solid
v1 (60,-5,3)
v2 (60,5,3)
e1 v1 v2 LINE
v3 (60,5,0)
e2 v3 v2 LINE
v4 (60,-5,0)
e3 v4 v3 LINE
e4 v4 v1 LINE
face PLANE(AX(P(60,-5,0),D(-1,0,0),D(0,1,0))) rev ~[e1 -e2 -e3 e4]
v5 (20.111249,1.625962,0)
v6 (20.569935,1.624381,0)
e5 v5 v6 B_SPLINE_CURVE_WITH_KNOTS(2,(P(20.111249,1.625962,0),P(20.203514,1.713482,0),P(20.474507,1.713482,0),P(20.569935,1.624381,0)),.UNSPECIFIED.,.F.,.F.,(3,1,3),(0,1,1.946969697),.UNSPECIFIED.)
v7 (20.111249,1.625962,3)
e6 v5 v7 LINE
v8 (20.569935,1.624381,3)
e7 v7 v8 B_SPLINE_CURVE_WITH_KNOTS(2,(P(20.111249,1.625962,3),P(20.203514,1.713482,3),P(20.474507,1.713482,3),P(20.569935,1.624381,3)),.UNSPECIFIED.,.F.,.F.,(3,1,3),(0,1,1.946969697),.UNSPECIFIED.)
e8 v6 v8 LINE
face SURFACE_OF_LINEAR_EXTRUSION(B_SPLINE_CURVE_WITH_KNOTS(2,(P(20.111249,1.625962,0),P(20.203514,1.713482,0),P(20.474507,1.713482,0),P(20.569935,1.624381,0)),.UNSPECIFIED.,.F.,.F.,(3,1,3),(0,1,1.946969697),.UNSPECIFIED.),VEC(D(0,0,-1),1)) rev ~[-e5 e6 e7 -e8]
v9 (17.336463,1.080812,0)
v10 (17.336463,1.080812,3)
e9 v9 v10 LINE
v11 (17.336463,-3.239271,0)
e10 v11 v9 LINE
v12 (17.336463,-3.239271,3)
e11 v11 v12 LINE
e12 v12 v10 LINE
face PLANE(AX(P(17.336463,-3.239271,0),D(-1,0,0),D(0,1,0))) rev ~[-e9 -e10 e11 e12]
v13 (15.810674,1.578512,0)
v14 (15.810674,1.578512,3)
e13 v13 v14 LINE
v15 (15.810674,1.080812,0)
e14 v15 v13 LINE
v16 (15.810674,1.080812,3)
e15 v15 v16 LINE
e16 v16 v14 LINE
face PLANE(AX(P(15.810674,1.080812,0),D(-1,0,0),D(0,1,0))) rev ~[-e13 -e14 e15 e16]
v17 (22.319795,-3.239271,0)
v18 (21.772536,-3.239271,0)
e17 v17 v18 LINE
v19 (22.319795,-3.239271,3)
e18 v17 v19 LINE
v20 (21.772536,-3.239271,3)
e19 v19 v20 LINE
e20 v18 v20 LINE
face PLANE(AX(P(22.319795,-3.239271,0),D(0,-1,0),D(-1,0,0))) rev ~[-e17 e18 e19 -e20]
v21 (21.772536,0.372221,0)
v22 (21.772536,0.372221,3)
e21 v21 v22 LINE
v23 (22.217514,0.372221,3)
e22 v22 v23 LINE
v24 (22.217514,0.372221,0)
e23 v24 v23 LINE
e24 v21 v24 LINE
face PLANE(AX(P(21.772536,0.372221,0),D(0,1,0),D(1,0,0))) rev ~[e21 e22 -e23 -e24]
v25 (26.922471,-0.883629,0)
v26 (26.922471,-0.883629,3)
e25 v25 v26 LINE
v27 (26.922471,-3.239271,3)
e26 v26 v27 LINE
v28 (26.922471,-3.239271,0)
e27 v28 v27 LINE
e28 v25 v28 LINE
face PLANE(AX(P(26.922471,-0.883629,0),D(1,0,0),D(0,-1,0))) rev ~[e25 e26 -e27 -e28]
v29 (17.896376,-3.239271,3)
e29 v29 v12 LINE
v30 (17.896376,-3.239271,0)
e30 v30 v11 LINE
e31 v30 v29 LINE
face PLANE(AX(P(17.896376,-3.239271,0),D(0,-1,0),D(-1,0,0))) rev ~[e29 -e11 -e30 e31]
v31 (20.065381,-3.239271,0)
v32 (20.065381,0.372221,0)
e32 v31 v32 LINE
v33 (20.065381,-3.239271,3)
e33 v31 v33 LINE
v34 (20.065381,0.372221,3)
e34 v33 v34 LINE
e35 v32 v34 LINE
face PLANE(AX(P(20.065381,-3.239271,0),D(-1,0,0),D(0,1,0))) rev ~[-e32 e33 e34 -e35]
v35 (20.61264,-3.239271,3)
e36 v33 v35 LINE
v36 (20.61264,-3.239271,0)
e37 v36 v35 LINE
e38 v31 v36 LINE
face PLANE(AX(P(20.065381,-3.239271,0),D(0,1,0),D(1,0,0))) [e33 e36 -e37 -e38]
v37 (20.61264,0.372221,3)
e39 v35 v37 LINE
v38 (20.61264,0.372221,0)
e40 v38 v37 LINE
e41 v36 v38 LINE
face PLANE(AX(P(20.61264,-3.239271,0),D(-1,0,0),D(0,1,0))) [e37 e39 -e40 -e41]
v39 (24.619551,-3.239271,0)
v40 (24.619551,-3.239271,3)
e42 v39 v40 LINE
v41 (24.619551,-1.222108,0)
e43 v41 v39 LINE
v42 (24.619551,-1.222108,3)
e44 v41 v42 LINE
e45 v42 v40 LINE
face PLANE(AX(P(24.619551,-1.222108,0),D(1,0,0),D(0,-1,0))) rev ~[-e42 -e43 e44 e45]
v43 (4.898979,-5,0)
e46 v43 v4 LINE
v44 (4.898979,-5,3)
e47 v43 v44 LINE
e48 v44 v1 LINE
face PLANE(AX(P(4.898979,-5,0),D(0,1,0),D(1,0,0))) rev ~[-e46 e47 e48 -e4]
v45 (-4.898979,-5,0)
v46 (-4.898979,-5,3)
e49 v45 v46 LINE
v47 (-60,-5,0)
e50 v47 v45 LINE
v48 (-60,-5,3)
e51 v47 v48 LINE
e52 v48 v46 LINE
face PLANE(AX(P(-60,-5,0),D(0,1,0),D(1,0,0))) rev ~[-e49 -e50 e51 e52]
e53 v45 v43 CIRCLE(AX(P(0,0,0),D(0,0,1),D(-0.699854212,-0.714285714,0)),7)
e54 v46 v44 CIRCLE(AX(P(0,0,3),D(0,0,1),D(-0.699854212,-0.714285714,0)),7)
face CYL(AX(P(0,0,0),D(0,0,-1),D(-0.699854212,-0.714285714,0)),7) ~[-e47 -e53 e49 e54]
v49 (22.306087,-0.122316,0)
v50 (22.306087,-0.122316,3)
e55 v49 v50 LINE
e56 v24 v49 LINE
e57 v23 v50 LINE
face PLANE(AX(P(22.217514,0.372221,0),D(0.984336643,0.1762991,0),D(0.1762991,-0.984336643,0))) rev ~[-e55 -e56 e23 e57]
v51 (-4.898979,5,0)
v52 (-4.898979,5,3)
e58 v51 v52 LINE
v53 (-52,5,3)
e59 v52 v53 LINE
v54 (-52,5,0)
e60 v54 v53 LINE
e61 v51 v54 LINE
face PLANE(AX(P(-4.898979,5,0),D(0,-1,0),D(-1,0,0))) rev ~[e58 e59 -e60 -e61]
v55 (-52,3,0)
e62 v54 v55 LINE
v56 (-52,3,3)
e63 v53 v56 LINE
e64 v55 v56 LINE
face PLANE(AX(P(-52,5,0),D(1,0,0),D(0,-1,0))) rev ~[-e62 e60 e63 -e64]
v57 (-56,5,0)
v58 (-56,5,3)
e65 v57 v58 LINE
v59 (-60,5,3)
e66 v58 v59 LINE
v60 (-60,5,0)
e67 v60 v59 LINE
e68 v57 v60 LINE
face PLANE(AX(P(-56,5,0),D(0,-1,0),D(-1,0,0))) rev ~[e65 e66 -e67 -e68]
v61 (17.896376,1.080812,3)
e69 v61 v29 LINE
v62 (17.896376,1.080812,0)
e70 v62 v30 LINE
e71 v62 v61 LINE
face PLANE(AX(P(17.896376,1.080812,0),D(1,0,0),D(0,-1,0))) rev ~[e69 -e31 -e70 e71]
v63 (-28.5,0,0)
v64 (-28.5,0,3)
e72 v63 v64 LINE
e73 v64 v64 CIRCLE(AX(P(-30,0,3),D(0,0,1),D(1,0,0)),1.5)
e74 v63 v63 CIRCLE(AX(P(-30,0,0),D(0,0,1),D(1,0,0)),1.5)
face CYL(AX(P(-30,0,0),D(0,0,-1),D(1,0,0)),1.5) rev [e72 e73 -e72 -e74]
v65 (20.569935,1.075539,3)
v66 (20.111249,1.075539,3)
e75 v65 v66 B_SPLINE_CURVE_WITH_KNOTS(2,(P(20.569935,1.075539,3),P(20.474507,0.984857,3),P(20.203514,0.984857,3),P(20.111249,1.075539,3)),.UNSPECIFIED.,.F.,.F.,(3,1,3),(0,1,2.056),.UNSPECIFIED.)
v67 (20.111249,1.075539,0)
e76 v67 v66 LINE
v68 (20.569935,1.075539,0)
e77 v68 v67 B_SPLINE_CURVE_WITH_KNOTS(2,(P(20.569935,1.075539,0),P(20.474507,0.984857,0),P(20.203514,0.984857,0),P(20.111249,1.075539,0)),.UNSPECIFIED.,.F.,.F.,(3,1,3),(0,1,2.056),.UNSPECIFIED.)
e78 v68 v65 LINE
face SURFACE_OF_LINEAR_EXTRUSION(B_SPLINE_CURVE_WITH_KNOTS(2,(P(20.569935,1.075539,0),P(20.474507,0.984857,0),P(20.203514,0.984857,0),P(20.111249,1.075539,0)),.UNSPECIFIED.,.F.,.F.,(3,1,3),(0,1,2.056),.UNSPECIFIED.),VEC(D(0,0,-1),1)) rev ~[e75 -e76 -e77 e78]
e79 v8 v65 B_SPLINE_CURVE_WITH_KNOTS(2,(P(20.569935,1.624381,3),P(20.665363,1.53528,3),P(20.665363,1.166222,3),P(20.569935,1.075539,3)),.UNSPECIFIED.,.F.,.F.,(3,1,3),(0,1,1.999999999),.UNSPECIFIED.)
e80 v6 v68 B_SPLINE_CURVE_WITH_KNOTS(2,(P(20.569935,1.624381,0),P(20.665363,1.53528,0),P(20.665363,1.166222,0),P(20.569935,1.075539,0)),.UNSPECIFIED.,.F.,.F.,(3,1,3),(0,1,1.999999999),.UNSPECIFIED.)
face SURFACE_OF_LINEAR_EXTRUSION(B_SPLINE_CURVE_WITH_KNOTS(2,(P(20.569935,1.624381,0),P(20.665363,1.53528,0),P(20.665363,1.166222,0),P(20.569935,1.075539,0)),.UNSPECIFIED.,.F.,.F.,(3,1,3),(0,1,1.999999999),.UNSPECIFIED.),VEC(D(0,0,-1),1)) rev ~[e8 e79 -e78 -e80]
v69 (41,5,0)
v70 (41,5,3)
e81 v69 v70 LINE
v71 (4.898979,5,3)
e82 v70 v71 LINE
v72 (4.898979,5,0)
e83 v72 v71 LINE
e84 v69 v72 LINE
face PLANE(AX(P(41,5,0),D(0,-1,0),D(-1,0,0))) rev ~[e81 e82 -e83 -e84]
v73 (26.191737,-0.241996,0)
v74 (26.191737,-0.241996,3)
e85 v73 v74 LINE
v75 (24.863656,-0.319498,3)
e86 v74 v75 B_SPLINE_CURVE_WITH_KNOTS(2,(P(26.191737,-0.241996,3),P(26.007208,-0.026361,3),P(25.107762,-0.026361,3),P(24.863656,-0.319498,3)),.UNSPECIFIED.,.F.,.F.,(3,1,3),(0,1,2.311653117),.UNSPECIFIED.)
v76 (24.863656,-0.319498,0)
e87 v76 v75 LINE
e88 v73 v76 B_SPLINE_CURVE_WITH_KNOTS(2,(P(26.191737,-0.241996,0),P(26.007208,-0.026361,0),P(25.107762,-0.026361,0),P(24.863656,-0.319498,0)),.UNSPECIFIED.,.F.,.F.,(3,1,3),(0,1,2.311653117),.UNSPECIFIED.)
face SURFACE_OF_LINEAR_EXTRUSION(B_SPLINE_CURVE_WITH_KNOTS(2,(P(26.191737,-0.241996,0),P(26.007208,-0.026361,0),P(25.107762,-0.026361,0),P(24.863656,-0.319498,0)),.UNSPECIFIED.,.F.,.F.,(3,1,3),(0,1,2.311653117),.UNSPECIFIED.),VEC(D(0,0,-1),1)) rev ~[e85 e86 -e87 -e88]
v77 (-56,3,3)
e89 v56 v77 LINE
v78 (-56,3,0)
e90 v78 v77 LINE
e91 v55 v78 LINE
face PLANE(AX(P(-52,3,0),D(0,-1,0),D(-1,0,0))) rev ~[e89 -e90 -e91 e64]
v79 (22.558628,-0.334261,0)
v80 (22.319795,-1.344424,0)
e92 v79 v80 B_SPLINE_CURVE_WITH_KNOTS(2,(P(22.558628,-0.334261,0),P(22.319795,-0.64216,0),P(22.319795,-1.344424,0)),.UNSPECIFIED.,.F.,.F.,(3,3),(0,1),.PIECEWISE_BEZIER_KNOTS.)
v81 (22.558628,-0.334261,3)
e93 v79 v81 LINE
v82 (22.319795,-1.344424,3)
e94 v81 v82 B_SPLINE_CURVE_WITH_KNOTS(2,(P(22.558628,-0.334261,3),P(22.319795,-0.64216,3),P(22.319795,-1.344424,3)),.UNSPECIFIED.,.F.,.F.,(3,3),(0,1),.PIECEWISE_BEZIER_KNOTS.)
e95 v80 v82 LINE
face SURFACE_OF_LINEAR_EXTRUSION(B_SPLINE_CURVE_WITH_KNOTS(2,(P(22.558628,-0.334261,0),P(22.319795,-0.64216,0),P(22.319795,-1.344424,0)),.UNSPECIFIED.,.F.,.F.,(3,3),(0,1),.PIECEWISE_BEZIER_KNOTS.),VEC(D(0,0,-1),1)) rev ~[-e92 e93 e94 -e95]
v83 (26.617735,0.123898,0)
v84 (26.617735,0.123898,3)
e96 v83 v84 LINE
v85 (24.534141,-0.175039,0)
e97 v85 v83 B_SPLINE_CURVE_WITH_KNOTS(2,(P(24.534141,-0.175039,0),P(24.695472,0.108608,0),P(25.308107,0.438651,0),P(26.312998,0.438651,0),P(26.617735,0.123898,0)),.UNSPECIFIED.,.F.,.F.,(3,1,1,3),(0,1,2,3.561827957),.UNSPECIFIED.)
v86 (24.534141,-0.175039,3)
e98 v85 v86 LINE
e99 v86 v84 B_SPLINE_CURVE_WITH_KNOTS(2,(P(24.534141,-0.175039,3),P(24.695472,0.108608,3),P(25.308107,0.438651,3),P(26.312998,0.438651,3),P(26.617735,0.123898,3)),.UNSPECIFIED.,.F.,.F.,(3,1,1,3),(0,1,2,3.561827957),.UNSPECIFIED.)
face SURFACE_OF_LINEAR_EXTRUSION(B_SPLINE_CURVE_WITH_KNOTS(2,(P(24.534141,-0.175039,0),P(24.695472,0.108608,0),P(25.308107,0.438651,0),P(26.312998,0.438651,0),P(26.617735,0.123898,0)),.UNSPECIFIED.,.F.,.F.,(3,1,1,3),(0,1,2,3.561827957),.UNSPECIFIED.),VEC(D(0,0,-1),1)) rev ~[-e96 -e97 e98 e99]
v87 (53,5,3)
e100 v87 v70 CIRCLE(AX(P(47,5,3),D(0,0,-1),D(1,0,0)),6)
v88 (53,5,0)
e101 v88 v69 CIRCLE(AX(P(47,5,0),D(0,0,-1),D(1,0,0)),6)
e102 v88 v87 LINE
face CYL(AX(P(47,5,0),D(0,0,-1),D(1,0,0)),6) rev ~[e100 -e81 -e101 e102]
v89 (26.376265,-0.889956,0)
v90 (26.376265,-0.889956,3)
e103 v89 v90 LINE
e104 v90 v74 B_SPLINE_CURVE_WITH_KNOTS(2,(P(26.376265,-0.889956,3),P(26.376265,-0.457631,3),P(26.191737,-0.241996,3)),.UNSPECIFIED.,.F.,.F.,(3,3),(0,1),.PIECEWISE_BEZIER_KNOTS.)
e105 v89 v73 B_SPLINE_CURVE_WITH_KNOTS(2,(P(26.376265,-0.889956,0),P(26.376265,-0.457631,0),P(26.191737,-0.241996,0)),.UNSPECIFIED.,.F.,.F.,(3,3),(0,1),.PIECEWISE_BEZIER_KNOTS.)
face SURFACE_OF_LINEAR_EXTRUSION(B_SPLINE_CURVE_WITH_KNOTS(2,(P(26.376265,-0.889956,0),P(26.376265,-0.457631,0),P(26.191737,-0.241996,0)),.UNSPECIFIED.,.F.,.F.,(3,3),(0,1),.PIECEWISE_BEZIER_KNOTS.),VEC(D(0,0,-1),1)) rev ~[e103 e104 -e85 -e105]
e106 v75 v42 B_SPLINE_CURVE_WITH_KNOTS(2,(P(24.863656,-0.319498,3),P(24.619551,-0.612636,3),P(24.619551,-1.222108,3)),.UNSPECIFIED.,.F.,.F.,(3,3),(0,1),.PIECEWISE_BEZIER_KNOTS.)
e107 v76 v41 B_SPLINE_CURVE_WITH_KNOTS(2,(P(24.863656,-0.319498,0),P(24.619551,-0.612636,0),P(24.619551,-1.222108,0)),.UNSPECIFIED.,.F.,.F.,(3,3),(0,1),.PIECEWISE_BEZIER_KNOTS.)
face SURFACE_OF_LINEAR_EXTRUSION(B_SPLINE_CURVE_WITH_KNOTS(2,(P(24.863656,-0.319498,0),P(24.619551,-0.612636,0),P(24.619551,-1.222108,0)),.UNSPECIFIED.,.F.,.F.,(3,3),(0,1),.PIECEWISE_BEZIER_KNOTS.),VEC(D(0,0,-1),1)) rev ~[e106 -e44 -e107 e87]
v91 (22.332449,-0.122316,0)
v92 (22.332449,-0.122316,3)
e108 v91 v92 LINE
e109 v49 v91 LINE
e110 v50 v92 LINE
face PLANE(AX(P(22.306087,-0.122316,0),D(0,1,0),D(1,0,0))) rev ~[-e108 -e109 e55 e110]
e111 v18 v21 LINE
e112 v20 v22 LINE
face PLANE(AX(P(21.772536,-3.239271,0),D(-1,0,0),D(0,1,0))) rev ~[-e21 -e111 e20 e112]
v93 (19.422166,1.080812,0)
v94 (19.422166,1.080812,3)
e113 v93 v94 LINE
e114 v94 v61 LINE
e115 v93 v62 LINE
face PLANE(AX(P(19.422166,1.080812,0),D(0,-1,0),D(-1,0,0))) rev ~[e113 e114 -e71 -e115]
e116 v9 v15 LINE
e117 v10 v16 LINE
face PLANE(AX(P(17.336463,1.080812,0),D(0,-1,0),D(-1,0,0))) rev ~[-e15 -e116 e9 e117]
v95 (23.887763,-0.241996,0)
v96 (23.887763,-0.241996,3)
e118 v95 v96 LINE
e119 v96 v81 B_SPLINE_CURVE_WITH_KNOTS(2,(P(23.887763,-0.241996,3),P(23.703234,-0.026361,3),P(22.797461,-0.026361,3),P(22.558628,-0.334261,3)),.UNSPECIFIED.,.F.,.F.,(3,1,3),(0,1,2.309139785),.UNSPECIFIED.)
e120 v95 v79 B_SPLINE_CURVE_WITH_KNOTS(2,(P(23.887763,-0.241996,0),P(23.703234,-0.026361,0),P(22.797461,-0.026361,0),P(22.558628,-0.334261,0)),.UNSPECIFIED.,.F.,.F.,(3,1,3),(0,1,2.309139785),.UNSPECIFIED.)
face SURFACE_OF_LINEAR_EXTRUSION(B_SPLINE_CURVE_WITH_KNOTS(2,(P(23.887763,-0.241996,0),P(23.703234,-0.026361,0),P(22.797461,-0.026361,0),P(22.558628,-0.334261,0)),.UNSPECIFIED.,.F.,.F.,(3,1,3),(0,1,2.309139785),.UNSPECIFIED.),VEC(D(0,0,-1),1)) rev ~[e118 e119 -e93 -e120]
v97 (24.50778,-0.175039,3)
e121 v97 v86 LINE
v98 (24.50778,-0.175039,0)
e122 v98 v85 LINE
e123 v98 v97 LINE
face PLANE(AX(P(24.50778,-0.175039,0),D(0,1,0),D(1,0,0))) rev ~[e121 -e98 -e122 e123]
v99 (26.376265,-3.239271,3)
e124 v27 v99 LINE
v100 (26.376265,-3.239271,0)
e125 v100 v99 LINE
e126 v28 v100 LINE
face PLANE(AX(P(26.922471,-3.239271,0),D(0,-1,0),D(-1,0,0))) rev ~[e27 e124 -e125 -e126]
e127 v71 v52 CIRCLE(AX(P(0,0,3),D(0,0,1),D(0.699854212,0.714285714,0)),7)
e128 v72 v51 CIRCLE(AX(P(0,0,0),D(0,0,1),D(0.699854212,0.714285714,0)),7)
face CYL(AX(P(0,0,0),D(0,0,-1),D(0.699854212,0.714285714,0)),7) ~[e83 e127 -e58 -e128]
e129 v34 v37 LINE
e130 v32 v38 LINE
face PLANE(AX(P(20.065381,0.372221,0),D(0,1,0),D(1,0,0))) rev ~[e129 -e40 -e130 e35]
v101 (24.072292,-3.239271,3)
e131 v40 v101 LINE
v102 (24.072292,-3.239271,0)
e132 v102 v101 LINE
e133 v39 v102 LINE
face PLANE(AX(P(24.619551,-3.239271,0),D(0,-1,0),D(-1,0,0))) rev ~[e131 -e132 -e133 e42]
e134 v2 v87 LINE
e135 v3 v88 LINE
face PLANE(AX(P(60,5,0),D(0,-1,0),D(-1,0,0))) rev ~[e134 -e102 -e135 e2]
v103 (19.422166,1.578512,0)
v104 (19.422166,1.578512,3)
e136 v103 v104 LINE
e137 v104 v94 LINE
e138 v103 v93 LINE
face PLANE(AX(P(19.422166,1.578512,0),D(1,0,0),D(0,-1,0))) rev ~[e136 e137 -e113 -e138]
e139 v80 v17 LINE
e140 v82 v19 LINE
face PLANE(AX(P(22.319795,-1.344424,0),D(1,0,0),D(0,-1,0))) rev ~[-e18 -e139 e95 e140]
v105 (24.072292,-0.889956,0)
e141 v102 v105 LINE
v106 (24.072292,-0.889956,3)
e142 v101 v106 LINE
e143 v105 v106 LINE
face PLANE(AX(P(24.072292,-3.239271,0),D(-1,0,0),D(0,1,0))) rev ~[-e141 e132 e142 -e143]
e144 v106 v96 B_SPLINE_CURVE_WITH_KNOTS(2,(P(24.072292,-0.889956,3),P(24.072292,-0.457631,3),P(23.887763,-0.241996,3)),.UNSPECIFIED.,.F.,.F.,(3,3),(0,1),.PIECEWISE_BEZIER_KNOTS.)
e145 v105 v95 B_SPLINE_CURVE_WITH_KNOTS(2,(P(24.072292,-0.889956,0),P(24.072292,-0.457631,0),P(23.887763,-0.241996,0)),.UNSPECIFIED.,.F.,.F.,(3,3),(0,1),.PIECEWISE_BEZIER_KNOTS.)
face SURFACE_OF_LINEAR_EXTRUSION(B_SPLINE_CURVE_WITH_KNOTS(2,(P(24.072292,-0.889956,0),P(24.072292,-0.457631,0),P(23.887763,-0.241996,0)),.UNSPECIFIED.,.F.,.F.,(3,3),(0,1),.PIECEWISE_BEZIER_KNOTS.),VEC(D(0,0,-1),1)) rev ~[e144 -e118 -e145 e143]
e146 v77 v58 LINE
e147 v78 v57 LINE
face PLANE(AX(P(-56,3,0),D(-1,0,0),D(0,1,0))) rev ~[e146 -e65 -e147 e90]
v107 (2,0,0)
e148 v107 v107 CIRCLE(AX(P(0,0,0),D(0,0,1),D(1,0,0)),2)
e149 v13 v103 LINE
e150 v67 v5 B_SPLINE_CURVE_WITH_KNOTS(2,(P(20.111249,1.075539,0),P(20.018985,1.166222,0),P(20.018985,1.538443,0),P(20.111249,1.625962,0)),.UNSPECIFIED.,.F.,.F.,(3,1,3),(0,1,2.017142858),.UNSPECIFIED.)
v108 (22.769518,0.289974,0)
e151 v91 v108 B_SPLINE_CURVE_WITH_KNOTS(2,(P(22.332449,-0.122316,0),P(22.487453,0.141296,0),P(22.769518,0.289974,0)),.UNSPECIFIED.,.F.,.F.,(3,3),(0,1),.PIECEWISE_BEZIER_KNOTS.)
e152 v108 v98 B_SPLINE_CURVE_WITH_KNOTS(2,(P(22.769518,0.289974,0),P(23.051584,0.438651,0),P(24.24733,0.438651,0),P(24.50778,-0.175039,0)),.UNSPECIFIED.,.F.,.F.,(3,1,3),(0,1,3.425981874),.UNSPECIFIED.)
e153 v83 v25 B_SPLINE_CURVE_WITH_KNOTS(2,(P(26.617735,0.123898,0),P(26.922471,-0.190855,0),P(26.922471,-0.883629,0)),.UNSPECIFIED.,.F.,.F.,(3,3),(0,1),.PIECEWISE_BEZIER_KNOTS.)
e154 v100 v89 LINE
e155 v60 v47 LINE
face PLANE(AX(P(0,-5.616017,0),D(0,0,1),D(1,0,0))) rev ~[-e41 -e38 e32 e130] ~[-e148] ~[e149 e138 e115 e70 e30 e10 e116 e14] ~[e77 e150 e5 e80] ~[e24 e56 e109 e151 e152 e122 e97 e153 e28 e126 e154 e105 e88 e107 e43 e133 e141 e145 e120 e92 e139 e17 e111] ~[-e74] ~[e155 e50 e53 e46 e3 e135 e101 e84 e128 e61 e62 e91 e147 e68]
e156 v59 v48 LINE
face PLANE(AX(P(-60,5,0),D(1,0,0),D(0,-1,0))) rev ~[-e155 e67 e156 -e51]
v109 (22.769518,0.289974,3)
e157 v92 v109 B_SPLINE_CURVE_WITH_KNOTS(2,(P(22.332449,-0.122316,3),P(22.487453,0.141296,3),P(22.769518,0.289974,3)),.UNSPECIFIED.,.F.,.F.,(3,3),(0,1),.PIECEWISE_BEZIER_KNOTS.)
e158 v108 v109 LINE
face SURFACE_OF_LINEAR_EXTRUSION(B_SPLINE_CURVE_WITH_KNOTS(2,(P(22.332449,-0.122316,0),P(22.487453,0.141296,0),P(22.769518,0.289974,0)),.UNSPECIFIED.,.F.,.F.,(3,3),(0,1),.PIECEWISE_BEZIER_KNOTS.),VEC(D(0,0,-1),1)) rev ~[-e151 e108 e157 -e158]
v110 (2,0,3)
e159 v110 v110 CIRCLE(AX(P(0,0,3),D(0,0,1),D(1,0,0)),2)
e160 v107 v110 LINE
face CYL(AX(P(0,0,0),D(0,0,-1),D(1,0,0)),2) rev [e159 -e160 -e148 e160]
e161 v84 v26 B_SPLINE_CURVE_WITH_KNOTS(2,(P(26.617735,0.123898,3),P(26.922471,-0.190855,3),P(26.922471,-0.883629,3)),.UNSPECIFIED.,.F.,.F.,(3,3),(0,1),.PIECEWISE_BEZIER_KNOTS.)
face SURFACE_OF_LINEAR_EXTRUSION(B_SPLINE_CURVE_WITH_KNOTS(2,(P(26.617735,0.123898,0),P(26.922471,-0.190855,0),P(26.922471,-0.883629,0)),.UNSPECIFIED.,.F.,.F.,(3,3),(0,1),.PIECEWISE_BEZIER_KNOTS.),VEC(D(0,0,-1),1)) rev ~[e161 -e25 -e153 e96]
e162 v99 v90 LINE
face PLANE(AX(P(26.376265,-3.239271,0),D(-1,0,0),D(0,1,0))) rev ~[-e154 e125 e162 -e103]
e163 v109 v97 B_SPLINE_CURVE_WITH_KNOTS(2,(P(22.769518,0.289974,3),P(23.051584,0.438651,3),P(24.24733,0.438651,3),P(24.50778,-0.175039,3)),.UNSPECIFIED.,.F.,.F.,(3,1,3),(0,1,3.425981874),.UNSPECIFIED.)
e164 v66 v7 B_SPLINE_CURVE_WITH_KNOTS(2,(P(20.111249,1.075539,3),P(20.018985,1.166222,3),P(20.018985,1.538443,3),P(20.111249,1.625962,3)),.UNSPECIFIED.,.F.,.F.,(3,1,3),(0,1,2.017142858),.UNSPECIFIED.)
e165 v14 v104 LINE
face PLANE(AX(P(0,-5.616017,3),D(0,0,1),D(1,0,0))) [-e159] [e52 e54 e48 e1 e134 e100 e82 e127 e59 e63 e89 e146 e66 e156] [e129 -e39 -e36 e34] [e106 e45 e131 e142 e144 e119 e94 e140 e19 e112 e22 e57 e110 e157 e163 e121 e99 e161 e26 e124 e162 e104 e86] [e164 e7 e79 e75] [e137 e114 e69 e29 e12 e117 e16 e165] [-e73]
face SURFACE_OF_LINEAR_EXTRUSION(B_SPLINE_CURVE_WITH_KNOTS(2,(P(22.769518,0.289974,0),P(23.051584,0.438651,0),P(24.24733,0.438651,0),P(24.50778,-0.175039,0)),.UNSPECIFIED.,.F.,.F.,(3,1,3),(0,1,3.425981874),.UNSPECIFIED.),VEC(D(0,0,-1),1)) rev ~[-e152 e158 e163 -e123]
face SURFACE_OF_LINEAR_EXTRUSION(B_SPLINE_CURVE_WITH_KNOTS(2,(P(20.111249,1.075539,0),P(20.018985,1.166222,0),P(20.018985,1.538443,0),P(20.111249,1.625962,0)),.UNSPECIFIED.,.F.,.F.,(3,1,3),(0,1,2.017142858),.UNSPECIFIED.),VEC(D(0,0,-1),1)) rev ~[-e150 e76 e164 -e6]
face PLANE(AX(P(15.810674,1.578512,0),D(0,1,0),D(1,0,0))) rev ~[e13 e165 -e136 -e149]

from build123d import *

# Parameters (mm, degrees)
F0_R     = 1.5
F0_R_2   = 2
F0_W     = 0.5472596904
F0_H     = 3.6114921765
F1_DEPTH = 3


with BuildPart() as f1:
    # F0 (on Top) → F1 (new body)
    with BuildSketch(Plane.XY):
        with BuildLine():
            Line((4.8989794856, -5), (-4.8989794856, -5))
            ThreePointArc((-4.8989794856, -5), (0, -7), (4.8989794856, -5))
        make_face()
        with BuildLine():
            ThreePointArc((4.8989794856, 5), (0, 7), (-4.8989794856, 5))
            Line((-4.8989794856, 5), (4.8989794856, 5))
        make_face()
        with BuildLine():
            Line((-60, 5), (-60, -5))
            Line((-60, -5), (-4.8989794856, -5))
            ThreePointArc((-4.8989794856, -5), (-7, 0), (-4.8989794856, 5))
            Line((-4.8989794856, 5), (-52, 5))
            Line((-52, 5), (-52, 3))
            Line((-52, 3), (-56, 3))
            Line((-56, 3), (-56, 5))
            Line((-56, 5), (-60, 5))
        make_face()
        with Locations((-30, 0)):
            Circle(F0_R, mode=Mode.SUBTRACT)
        with BuildLine():
            ThreePointArc((-4.8989794856, 5), (-7, 0), (-4.8989794856, -5))
            Line((-4.8989794856, -5), (4.8989794856, -5))
            ThreePointArc((4.8989794856, -5), (6.4534043883, -2.7117470016), (7, 0))
            ThreePointArc((7, 0), (6.4534043883, 2.7117470016), (4.8989794856, 5))
            Line((4.8989794856, 5), (-4.8989794856, 5))
        make_face()
        Circle(F0_R_2, mode=Mode.SUBTRACT)
        with BuildLine():
            ThreePointArc((7, 0), (6.4534043883, -2.7117470016), (4.8989794856, -5))
            Line((4.8989794856, -5), (60, -5))
            Line((60, -5), (60, 5))
            Line((60, 5), (53, 5))
            ThreePointArc((53, 5), (47, -1), (41, 5))
            Line((41, 5), (4.8989794856, 5))
            ThreePointArc((4.8989794856, 5), (6.4534043883, 2.7117470016), (7, 0))
        make_face()
        with Locations((20.3390103817, -1.4335251428)):
            Rectangle(F0_W, F0_H, mode=Mode.SUBTRACT)
        with BuildLine():
            Line((26.9224706456, -3.239271231), (26.3762654055, -3.239271231))
            Line((26.3762654055, -3.239271231), (26.3762654055, -0.8899560283))
            add(Edge.make_bspline(
                [(26.3762654055, -0.8899560283), (26.3762654055, -0.4576314174), (26.1917366082, -0.2419963371)],
                knots=[0, 0, 0, 1, 1, 1], degree=2))
            add(Edge.make_bspline(
                [(26.1917366082, -0.2419963371), (26.0072078108, -0.0263612568), (25.618115661, -0.0263612568)],
                knots=[0, 0, 0, 1, 1, 1], degree=2))
            add(Edge.make_bspline(
                [(25.618115661, -0.0263612568), (25.1077617301, -0.0263612568), (24.8636564925, -0.319498432)],
                knots=[0, 0, 0, 1, 1, 1], degree=2))
            add(Edge.make_bspline(
                [(24.8636564925, -0.319498432), (24.6195512548, -0.6126356072), (24.6195512548, -1.2221078635)],
                knots=[0, 0, 0, 1, 1, 1], degree=2))
            Line((24.6195512548, -1.2221078635), (24.6195512548, -3.239271231))
            Line((24.6195512548, -3.239271231), (24.0722915645, -3.239271231))
            Line((24.0722915645, -3.239271231), (24.0722915645, -0.8899560283))
            add(Edge.make_bspline(
                [(24.0722915645, -0.8899560283), (24.0722915645, -0.4576314174), (23.8877627671, -0.2419963371)],
                knots=[0, 0, 0, 1, 1, 1], degree=2))
            add(Edge.make_bspline(
                [(23.8877627671, -0.2419963371), (23.7032339698, -0.0263612568), (23.3109784692, -0.0263612568)],
                knots=[0, 0, 0, 1, 1, 1], degree=2))
            add(Edge.make_bspline(
                [(23.3109784692, -0.0263612568), (22.7974611874, -0.0263612568), (22.5586282011, -0.3342607358)],
                knots=[0, 0, 0, 1, 1, 1], degree=2))
            add(Edge.make_bspline(
                [(22.5586282011, -0.3342607358), (22.3197952149, -0.6421602147), (22.3197952149, -1.3444240949)],
                knots=[0, 0, 0, 1, 1, 1], degree=2))
            Line((22.3197952149, -1.3444240949), (22.3197952149, -3.239271231))
            Line((22.3197952149, -3.239271231), (21.7725355245, -3.239271231))
            Line((21.7725355245, -3.239271231), (21.7725355245, 0.3722209455))
            Line((21.7725355245, 0.3722209455), (22.2175135386, 0.3722209455))
            Line((22.2175135386, 0.3722209455), (22.3060873614, -0.1223162314))
            Line((22.3060873614, -0.1223162314), (22.3324486181, -0.1223162314))
            add(Edge.make_bspline(
                [(22.3324486181, -0.1223162314), (22.4874528079, 0.1412963362), (22.7695182552, 0.2899738244)],
                knots=[0, 0, 0, 1, 1, 1], degree=2))
            add(Edge.make_bspline(
                [(22.7695182552, 0.2899738244), (23.0515837026, 0.4386513125), (23.4006067421, 0.4386513125)],
                knots=[0, 0, 0, 1, 1, 1], degree=2))
            add(Edge.make_bspline(
                [(23.4006067421, 0.4386513125), (24.2473303094, 0.4386513125), (24.5077795262, -0.1750387449)],
                knots=[0, 0, 0, 1, 1, 1], degree=2))
            Line((24.5077795262, -0.1750387449), (24.5341407829, -0.1750387449))
            add(Edge.make_bspline(
                [(24.5341407829, -0.1750387449), (24.6954716743, 0.1086083779), (25.0017894779, 0.2736298452)],
                knots=[0, 0, 0, 1, 1, 1], degree=2))
            add(Edge.make_bspline(
                [(25.0017894779, 0.2736298452), (25.3081072815, 0.4386513125), (25.7003627821, 0.4386513125)],
                knots=[0, 0, 0, 1, 1, 1], degree=2))
            add(Edge.make_bspline(
                [(25.7003627821, 0.4386513125), (26.3129983893, 0.4386513125), (26.6177345175, 0.1238979068)],
                knots=[0, 0, 0, 1, 1, 1], degree=2))
            add(Edge.make_bspline(
                [(26.6177345175, 0.1238979068), (26.9224706456, -0.190855499), (26.9224706456, -0.8836293267)],
                knots=[0, 0, 0, 1, 1, 1], degree=2))
            Line((26.9224706456, -0.8836293267), (26.9224706456, -3.239271231))
        make_face(mode=Mode.SUBTRACT)
        Polygon((17.8963763301, 1.0808115273), (17.8963763301, -3.239271231), (17.3364632365, -3.239271231), (17.3364632365, 1.0808115273), (15.810673695, 1.0808115273), (15.810673695, 1.5785120549), (19.4221658715, 1.5785120549), (19.4221658715, 1.0808115273), align=None, mode=Mode.SUBTRACT)
        with BuildLine():
            add(Edge.make_bspline(
                [(20.1112491233, 1.0755392759), (20.0189847246, 1.1662219992), (20.0189847246, 1.3507507965)],
                knots=[0, 0, 0, 1, 1, 1], degree=2))
            add(Edge.make_bspline(
                [(20.0189847246, 1.3507507965), (20.0189847246, 1.5384429447), (20.1112491233, 1.6259623171)],
                knots=[0, 0, 0, 1, 1, 1], degree=2))
            add(Edge.make_bspline(
                [(20.1112491233, 1.6259623171), (20.203513522, 1.7134816896), (20.3427009577, 1.7134816896)],
                knots=[0, 0, 0, 1, 1, 1], degree=2))
            add(Edge.make_bspline(
                [(20.3427009577, 1.7134816896), (20.4745072415, 1.7134816896), (20.569934991, 1.6243806417)],
                knots=[0, 0, 0, 1, 1, 1], degree=2))
            add(Edge.make_bspline(
                [(20.569934991, 1.6243806417), (20.6653627404, 1.5352795939), (20.6653627404, 1.3507507965)],
                knots=[0, 0, 0, 1, 1, 1], degree=2))
            add(Edge.make_bspline(
                [(20.6653627404, 1.3507507965), (20.6653627404, 1.1662219992), (20.569934991, 1.0755392759)],
                knots=[0, 0, 0, 1, 1, 1], degree=2))
            add(Edge.make_bspline(
                [(20.569934991, 1.0755392759), (20.4745072415, 0.9848565527), (20.3427009577, 0.9848565527)],
                knots=[0, 0, 0, 1, 1, 1], degree=2))
            add(Edge.make_bspline(
                [(20.3427009577, 0.9848565527), (20.203513522, 0.9848565527), (20.1112491233, 1.0755392759)],
                knots=[0, 0, 0, 1, 1, 1], degree=2))
        make_face(mode=Mode.SUBTRACT)
    extrude(amount=F1_DEPTH)


solid = f1.part
